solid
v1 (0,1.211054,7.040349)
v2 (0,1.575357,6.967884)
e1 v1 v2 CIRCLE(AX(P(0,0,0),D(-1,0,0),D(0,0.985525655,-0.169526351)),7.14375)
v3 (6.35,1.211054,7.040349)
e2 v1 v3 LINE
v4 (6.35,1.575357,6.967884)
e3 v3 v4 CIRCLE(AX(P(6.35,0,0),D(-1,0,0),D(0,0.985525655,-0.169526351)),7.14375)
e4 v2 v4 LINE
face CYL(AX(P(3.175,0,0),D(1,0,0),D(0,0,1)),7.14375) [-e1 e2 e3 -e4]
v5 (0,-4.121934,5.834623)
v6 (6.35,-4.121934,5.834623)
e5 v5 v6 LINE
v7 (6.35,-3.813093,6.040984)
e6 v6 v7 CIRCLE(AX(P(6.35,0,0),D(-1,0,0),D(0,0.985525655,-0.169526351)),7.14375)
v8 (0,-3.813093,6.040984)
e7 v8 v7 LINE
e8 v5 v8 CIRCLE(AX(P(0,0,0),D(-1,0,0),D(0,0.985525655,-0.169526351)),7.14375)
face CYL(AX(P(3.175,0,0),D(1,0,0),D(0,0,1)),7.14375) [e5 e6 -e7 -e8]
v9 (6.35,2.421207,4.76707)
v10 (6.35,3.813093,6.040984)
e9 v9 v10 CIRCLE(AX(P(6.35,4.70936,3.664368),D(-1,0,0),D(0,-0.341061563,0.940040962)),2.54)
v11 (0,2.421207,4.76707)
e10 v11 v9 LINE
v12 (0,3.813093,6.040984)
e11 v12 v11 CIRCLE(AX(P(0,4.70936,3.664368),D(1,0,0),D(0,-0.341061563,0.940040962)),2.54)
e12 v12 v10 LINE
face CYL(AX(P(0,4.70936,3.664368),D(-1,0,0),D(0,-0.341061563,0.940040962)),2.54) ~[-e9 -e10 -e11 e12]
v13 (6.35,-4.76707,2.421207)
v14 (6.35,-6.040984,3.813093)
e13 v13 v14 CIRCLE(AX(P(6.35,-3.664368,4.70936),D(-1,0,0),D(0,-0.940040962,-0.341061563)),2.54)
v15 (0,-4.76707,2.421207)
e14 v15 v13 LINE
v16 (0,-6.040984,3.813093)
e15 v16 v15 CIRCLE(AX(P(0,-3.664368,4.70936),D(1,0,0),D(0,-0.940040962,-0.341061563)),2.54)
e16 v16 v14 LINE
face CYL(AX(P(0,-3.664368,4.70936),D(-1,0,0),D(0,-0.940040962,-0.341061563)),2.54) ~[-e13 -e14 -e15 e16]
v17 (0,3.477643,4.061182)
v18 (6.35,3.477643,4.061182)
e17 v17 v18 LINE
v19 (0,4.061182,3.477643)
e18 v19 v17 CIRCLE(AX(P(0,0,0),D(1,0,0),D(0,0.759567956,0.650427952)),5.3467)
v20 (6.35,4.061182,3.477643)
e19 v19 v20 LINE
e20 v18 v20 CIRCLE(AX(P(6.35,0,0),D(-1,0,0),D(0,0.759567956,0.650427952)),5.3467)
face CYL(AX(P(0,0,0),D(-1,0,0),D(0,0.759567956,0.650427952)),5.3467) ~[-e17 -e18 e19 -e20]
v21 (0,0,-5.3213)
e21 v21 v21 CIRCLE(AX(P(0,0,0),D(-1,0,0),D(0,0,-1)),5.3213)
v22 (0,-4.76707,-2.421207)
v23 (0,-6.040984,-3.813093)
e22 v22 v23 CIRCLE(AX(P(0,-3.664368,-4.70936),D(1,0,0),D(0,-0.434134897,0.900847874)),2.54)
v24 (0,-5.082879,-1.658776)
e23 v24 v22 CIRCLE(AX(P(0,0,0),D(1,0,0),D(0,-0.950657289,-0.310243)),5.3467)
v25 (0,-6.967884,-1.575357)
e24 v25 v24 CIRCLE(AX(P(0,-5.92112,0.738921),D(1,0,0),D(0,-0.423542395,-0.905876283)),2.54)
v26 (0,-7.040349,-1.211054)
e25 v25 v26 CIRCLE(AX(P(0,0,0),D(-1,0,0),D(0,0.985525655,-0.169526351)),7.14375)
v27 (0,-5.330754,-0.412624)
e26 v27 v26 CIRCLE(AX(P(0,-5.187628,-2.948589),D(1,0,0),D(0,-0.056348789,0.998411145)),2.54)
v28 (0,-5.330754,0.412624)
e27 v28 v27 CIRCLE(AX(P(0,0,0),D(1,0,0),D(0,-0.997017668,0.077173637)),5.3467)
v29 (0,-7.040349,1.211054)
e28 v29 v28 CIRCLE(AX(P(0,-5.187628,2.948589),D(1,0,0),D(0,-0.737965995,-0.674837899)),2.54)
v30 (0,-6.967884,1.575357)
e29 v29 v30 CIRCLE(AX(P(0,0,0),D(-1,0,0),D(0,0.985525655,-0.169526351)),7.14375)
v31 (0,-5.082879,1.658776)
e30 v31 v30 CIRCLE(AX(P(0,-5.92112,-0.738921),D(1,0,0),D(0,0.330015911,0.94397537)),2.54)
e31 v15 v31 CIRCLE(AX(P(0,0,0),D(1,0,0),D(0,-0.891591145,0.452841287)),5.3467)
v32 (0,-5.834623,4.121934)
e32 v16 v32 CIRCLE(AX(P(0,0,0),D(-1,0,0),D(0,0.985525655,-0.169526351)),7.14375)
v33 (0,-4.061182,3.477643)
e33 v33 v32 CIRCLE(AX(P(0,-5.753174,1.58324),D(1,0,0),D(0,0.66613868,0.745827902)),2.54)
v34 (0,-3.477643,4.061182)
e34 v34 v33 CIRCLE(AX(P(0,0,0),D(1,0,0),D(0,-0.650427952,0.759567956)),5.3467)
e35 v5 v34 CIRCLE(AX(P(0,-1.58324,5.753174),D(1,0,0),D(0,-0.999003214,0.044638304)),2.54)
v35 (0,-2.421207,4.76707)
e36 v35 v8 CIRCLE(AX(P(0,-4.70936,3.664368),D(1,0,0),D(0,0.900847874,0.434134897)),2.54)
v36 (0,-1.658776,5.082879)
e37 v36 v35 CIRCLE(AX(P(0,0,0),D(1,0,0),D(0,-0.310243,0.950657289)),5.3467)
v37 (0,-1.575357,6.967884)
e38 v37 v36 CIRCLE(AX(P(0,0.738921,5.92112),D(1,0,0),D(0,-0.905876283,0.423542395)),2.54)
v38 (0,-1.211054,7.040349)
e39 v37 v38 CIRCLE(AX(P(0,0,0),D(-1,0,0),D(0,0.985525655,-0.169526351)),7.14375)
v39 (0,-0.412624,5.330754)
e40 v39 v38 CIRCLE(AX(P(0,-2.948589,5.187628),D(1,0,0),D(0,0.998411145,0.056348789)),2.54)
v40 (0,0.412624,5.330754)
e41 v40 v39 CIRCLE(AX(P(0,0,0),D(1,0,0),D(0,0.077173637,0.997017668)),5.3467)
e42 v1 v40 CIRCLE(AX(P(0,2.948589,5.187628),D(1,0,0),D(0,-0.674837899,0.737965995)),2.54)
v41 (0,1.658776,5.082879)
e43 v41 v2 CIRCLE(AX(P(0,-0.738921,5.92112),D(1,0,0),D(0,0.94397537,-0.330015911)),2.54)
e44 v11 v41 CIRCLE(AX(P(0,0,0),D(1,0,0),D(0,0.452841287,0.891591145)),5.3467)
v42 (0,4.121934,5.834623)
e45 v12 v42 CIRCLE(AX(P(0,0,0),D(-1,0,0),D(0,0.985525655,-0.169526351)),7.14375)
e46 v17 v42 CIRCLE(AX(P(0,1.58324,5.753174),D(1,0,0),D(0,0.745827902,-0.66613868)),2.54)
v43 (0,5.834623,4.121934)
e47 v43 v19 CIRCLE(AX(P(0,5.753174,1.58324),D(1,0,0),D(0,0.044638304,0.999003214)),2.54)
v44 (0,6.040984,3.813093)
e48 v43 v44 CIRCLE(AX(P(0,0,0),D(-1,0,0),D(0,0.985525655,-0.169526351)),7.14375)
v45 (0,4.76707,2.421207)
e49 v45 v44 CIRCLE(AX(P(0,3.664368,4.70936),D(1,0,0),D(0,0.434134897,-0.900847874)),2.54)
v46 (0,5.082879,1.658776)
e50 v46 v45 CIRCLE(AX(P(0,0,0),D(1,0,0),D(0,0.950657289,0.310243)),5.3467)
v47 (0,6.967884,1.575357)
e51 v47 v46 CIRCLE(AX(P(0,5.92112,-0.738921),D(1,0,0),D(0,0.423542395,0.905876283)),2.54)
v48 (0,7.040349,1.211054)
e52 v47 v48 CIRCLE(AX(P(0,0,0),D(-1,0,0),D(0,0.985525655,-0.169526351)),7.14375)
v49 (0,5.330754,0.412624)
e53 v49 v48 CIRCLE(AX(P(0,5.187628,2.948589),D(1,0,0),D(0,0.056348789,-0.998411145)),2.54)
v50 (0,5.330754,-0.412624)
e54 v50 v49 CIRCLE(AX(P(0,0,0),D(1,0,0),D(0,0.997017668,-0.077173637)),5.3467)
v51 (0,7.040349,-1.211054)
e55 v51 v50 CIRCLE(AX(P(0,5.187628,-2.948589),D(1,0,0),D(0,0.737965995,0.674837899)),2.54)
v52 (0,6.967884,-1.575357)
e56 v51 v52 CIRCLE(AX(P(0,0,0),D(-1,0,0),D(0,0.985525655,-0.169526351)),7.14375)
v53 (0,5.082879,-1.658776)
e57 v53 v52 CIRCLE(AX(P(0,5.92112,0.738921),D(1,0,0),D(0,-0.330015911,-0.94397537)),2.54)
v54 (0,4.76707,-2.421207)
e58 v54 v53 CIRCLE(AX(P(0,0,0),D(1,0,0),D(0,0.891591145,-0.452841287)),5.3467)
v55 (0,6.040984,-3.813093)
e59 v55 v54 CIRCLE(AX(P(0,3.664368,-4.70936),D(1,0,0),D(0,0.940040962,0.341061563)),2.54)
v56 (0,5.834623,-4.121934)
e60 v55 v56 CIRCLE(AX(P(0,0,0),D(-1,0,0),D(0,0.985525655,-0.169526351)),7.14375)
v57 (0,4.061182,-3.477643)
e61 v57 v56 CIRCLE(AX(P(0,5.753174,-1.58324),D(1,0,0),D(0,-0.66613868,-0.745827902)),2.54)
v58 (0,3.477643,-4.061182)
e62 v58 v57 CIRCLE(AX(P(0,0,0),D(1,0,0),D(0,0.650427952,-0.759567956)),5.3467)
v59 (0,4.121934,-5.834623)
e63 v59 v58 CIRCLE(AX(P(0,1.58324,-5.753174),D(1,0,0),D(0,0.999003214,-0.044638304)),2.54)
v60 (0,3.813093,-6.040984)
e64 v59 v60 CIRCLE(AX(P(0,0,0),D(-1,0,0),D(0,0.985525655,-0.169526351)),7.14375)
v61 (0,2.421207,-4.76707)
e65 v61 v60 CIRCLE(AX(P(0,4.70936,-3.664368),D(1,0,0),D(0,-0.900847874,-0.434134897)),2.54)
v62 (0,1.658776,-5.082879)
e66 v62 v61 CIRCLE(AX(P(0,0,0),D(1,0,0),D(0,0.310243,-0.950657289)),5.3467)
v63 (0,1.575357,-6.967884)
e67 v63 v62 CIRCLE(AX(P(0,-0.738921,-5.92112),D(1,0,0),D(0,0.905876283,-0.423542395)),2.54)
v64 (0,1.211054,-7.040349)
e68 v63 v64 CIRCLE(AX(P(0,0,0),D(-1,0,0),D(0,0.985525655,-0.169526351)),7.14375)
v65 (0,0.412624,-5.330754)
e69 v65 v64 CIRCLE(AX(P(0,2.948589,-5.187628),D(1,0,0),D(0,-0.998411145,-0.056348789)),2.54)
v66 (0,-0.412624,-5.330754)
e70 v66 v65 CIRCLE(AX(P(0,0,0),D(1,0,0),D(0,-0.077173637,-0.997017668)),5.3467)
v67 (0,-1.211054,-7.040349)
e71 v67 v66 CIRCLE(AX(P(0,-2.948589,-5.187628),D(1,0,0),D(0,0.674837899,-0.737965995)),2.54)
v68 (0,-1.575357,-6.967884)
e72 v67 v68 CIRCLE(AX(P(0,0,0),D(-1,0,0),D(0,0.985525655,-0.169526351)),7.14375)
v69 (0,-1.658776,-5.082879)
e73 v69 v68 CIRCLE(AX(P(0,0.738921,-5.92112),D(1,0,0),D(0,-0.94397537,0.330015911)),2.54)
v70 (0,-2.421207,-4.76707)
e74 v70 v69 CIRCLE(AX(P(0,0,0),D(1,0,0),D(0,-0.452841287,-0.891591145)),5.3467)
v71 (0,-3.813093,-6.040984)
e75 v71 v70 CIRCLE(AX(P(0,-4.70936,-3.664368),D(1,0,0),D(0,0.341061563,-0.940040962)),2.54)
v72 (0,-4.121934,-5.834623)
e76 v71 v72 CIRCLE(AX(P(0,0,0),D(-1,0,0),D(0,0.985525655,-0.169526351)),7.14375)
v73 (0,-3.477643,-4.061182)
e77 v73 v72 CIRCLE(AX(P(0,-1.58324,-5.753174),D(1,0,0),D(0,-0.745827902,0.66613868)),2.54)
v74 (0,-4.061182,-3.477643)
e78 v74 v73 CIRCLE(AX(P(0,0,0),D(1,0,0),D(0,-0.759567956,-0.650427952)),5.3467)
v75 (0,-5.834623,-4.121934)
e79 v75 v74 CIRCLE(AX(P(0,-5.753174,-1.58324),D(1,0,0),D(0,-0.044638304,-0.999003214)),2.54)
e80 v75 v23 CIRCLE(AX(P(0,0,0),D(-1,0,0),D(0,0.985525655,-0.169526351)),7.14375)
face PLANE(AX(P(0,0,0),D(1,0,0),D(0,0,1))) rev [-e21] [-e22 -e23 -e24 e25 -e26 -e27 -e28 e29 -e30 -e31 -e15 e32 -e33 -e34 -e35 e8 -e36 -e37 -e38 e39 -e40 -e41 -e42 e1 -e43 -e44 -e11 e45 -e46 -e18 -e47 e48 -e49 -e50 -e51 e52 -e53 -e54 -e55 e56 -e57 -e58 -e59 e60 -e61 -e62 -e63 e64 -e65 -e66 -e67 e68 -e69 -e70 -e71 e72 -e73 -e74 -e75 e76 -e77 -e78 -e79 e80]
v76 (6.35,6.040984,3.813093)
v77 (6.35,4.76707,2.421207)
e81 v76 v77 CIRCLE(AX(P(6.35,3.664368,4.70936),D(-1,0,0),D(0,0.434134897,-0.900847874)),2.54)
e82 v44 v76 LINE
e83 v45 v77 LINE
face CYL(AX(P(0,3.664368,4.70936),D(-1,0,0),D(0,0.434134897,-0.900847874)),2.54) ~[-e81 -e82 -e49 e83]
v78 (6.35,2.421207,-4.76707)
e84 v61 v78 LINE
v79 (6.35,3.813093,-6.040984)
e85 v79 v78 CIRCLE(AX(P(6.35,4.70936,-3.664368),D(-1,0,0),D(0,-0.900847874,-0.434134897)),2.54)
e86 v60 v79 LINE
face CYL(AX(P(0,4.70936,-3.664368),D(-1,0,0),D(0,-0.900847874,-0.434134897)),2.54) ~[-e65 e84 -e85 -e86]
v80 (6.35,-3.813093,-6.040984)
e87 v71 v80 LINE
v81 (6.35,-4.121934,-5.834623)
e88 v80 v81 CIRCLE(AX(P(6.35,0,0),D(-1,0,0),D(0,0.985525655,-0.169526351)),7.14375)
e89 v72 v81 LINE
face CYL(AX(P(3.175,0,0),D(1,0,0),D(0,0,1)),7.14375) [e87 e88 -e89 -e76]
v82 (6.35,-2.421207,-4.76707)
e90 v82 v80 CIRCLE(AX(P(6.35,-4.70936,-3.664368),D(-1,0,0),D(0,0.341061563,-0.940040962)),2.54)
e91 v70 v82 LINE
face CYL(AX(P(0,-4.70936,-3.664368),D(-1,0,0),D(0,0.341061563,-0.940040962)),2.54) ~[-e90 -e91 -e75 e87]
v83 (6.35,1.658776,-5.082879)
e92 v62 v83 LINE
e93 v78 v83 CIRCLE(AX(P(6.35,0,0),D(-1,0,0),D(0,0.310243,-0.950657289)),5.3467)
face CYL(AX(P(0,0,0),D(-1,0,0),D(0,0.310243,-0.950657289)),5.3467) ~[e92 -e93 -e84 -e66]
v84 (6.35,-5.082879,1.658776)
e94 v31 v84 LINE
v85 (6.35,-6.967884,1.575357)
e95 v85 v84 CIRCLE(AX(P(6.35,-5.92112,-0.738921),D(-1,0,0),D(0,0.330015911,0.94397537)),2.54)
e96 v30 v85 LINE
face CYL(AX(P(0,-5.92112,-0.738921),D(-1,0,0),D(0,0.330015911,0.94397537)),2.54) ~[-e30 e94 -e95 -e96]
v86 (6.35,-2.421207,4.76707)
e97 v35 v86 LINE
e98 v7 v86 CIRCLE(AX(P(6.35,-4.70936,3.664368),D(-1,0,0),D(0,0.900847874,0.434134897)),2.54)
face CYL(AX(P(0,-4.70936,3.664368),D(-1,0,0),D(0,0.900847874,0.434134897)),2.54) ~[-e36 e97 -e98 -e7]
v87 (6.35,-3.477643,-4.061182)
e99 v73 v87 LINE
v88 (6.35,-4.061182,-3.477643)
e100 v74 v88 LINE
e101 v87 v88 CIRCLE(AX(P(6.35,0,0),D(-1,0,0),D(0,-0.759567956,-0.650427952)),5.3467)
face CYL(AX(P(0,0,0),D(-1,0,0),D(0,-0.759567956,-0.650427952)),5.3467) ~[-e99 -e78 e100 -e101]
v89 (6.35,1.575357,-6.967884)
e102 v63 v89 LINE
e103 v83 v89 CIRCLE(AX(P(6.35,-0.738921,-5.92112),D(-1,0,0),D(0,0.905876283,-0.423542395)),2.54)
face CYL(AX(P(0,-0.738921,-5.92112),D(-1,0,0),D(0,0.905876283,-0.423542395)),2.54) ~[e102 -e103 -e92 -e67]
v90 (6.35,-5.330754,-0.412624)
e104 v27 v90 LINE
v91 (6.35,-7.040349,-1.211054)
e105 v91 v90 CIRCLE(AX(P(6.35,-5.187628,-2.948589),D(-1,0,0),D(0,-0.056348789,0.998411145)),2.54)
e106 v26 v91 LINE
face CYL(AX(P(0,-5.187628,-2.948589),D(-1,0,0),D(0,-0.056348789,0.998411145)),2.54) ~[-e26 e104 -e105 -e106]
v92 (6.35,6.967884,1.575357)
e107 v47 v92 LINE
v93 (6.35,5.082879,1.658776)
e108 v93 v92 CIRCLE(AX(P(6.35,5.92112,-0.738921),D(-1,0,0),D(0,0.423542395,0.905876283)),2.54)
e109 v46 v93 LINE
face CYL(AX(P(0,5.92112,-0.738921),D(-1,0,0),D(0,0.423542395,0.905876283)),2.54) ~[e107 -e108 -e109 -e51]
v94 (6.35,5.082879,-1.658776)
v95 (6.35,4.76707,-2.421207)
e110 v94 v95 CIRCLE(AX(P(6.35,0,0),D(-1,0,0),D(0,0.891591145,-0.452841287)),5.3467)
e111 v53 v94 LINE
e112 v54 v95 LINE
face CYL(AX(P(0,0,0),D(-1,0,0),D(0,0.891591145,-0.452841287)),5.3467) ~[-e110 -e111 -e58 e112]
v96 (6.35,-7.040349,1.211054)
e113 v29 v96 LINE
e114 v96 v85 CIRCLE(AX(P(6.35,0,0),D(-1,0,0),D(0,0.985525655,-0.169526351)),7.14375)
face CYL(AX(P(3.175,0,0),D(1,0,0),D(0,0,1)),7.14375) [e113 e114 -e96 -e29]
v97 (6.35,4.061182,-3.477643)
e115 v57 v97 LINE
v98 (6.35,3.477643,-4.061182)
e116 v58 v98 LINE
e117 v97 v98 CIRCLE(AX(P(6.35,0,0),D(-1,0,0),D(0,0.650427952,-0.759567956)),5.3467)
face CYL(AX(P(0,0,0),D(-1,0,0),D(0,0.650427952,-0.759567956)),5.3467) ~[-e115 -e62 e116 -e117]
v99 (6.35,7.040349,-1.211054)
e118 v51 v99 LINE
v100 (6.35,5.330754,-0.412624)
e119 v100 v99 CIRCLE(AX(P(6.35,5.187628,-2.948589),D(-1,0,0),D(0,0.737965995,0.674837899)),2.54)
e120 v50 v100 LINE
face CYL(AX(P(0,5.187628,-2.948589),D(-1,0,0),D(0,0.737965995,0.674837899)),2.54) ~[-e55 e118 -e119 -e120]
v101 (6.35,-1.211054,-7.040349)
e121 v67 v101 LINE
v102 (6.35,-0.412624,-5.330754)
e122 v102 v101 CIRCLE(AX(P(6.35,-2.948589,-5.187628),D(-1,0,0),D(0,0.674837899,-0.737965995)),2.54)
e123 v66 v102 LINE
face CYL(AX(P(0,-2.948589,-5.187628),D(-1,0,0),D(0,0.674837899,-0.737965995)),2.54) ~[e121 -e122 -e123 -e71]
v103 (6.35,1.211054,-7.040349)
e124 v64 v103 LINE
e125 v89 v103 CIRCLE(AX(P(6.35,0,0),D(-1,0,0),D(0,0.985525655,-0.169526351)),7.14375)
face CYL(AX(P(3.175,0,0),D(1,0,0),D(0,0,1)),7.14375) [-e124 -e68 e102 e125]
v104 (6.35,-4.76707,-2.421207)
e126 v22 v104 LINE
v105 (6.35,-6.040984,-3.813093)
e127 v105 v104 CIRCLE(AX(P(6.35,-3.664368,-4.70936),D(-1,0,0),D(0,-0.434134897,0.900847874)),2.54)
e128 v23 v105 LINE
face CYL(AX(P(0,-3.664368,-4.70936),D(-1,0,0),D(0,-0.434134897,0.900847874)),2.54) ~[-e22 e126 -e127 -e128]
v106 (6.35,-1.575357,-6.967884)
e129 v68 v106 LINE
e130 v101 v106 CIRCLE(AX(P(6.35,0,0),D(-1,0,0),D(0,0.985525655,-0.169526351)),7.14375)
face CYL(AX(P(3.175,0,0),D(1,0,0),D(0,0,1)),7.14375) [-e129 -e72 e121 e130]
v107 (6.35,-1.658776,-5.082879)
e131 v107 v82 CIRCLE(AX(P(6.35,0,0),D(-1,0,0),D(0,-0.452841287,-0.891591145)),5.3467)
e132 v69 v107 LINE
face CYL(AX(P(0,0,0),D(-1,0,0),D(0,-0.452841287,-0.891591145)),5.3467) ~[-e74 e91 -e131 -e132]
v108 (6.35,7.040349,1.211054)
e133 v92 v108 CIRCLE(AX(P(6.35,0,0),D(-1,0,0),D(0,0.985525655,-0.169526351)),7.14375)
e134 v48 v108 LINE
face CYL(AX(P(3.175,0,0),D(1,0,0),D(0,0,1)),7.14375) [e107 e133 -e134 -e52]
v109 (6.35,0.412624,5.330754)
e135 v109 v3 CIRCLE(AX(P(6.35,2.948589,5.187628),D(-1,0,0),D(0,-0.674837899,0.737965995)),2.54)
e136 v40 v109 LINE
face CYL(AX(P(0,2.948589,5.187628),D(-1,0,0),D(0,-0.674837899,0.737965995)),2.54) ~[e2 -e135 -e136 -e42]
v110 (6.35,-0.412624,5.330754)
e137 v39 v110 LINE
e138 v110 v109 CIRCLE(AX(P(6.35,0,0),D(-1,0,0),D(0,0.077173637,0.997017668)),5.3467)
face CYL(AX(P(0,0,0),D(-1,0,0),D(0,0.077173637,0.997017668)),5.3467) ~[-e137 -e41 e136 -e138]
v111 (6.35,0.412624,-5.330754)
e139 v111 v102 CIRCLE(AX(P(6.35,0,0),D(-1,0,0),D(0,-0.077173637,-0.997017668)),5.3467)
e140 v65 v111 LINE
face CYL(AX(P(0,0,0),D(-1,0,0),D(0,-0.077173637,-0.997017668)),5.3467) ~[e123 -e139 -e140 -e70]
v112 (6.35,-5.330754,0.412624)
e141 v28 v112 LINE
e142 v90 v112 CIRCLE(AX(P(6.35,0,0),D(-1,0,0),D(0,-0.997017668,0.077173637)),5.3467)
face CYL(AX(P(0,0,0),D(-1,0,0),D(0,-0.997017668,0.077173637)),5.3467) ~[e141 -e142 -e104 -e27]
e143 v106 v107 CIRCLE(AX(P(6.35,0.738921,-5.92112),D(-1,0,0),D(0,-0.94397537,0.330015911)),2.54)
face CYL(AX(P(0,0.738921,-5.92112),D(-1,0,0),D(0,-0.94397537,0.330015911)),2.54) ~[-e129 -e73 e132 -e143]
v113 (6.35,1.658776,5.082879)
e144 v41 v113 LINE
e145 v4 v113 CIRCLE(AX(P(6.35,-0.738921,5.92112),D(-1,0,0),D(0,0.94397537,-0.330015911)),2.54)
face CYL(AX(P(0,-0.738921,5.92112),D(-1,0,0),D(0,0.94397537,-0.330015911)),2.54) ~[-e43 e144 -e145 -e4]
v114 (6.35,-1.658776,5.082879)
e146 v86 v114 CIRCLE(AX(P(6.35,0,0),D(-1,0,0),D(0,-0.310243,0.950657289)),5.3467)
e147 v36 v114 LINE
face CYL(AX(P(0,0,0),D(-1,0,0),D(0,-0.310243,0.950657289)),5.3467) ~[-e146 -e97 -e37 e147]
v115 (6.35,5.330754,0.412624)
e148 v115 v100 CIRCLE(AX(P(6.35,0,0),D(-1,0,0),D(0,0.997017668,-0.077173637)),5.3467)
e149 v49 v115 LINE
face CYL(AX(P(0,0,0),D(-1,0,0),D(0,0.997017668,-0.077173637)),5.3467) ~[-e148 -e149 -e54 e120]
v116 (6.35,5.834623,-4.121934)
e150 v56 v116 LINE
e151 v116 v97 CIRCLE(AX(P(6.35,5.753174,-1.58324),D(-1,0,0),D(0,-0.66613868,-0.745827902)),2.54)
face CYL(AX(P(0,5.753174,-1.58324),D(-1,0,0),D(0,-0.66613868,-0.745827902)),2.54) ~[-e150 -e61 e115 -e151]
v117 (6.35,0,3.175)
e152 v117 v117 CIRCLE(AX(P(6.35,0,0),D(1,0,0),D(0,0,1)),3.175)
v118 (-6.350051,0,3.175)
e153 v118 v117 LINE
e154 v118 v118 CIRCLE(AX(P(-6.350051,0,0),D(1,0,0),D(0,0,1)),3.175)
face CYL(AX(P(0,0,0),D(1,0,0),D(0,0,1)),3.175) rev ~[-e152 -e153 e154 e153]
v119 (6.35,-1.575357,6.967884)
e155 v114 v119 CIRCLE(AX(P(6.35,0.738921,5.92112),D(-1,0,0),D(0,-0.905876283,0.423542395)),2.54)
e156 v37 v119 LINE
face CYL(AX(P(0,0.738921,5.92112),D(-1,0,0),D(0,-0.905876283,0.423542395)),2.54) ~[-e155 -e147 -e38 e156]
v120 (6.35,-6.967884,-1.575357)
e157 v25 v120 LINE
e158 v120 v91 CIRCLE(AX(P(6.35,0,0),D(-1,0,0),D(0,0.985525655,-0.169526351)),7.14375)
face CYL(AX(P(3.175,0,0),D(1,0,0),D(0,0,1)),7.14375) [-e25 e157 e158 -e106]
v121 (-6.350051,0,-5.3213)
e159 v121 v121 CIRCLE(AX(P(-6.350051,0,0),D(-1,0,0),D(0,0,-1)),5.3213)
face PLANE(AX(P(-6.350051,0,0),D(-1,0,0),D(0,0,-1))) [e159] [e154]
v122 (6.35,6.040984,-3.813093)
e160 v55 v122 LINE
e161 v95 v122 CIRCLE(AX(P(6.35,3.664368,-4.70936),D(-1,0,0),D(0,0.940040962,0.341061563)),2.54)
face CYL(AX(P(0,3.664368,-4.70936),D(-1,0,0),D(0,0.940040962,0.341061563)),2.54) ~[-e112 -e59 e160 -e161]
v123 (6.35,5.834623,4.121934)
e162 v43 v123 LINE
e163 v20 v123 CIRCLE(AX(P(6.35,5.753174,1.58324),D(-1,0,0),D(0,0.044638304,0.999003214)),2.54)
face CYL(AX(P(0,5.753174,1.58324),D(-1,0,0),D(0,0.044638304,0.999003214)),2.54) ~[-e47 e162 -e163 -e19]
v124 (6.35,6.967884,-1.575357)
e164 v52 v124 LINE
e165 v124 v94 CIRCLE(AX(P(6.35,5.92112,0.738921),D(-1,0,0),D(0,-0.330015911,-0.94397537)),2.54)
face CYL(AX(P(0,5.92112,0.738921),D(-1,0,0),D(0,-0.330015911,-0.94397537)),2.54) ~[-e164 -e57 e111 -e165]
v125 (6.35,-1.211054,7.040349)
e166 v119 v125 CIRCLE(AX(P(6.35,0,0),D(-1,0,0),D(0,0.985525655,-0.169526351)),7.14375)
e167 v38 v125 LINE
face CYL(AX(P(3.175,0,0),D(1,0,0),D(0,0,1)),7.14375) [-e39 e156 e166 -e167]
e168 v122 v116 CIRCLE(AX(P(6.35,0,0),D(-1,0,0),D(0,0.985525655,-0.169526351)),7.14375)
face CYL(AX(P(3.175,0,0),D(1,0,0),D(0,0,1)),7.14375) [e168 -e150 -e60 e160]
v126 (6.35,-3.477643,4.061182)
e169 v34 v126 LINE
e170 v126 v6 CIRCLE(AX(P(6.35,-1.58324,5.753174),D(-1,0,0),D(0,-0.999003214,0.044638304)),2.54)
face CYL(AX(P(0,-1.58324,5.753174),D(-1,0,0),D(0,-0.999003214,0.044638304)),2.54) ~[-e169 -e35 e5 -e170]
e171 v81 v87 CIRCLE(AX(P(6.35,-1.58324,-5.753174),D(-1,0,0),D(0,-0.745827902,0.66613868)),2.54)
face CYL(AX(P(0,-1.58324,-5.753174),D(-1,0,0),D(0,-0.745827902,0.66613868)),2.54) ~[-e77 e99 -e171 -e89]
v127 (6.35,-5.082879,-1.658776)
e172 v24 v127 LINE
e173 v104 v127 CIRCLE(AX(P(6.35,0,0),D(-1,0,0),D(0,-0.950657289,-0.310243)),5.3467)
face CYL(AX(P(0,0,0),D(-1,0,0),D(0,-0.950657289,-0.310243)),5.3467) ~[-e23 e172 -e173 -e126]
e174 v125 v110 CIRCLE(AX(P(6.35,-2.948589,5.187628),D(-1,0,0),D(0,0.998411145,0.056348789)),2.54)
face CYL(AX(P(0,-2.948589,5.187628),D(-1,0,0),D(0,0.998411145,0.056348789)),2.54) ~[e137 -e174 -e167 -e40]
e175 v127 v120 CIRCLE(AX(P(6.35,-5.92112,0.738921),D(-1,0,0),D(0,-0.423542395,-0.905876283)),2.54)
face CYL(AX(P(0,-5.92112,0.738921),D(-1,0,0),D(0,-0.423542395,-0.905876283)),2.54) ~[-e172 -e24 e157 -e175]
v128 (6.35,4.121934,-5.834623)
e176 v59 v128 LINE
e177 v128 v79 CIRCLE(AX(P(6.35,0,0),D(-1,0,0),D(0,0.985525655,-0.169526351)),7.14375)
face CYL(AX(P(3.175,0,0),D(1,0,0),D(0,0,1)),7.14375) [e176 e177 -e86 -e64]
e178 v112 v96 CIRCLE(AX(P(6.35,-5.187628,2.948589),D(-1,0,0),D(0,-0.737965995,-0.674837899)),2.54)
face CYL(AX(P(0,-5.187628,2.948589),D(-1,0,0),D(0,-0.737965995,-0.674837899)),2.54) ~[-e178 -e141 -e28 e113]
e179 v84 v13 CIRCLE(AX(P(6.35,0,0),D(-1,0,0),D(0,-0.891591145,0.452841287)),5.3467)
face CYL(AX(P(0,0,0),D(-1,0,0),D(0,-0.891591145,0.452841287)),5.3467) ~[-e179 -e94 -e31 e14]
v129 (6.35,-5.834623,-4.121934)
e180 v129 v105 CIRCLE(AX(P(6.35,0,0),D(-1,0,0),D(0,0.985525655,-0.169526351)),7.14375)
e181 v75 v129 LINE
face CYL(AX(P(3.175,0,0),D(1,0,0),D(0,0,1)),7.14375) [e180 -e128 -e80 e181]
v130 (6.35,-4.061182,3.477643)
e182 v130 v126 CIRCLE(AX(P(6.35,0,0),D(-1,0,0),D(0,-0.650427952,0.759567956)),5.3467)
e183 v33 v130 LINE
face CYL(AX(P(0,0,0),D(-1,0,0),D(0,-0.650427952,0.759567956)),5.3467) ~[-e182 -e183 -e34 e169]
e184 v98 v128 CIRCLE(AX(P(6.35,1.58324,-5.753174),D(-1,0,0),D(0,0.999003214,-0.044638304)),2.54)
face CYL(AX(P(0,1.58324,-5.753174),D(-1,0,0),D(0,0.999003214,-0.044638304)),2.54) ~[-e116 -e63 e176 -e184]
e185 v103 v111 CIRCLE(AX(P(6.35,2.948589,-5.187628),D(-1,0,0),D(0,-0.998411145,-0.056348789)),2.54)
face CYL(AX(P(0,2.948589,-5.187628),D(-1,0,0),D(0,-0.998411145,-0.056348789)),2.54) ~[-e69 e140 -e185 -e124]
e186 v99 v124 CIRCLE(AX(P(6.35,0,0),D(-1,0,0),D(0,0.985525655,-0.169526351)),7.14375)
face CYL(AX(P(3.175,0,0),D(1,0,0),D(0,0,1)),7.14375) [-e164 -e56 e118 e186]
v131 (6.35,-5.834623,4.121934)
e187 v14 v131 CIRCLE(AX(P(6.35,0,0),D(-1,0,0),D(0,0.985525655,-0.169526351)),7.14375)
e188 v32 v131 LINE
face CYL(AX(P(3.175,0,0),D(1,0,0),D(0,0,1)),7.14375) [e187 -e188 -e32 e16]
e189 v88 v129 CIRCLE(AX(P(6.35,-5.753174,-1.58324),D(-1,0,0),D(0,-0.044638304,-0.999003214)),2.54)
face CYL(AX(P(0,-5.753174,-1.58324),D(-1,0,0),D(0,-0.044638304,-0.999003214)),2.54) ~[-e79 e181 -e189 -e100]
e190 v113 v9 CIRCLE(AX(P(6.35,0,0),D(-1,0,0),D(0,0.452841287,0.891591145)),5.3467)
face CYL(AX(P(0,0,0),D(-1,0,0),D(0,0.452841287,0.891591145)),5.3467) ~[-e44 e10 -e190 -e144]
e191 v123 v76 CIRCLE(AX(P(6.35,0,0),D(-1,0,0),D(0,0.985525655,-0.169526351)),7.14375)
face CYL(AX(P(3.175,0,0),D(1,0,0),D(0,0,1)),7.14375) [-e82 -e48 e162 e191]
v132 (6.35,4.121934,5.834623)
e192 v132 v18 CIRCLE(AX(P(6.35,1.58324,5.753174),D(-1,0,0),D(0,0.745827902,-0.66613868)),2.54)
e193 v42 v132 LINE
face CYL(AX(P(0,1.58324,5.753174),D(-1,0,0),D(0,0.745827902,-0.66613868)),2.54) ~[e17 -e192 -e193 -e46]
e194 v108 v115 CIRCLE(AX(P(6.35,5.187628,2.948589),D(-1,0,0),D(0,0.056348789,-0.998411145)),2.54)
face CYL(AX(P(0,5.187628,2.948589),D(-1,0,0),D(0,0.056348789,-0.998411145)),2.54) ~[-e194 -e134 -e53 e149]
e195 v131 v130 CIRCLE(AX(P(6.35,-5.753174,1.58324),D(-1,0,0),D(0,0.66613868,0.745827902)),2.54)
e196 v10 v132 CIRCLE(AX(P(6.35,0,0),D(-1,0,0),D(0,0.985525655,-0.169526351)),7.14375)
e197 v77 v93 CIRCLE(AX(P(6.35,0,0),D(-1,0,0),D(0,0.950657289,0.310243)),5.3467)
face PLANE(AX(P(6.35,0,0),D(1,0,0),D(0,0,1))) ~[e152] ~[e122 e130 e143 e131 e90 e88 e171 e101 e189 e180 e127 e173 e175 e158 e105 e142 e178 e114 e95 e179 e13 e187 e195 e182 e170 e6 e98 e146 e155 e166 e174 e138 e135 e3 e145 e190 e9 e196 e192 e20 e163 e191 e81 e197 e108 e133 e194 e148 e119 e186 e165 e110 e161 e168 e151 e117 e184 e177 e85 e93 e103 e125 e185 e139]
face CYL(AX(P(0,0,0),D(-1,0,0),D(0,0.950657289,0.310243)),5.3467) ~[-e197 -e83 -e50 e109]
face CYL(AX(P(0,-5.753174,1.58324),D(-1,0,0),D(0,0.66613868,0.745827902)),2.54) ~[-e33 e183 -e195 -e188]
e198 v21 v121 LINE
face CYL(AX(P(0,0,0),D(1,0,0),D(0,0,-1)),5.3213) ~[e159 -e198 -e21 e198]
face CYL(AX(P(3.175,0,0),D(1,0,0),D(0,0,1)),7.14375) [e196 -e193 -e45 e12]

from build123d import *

# Parameters (mm, degrees)
BASPROSKE_W      = 6.35
BASPROSKE_H      = 7.14375
TOOTHCUT_DEPTH   = 12.932679
TEETHCUTS_COUNT  = 16
TEETHCUTS_ANGLE  = 337.5
HUBNEAONESKE_R   = 5.3213
HUBNEARONE_DEPTH = 6.3500508
BORSKE_R         = 3.175
BORE_DEPTH       = 6.3500508


with BuildPart() as part:
    # BasProSke → Base-Revolve (revolve)
    with BuildSketch(Plane(origin=(0, 0, 0), x_dir=(1, 0, 0), z_dir=(0, 1, 0)), mode=Mode.PRIVATE) as base_revolve_sk:
        with Locations((3.175, 3.571875)):
            Rectangle(BASPROSKE_W, BASPROSKE_H)
    revolve(base_revolve_sk.sketch.rotate(Axis((-10, 0, 0), (1, 0, 0)), 180), axis=Axis((-10, 0, 0), (1, 0, 0)))

    # TooCutSke → ToothCut (cut, through all)
    with BuildSketch(Plane(origin=(0, 0, 0), x_dir=(0, 0, -1), z_dir=(1, 0, 0))):
        with BuildLine():
            ThreePointArc((0.412624286, 5.330754364), (0, 5.3467), (-0.412624286, 5.330754364))
            ThreePointArc((-0.412624286, 5.330754364), (-0.654009481, 6.276897321), (-1.23450033, 7.062062068))
            ThreePointArc((-1.23450033, 7.062062068), (0, 7.16915), (1.23450033, 7.062062068))
            ThreePointArc((1.23450033, 7.062062068), (0.654009481, 6.276897321), (0.412624286, 5.330754364))
        make_face()
    toothcut = extrude(amount=TOOTHCUT_DEPTH, mode=Mode.SUBTRACT)

    # TeethCuts: ToothCut ×16 about axis
    teethcuts_axis = Axis((-10, 0, 0), (1, 0, 0))
    for i in range(1, TEETHCUTS_COUNT):
        add(toothcut.rotate(teethcuts_axis, i * TEETHCUTS_ANGLE / (TEETHCUTS_COUNT - 1)), mode=Mode.SUBTRACT)

    # HubNeaOneSke → HubNearOne (add)
    with BuildSketch(Plane.ZY):
        with Locations(Location((0, 0, 0), (0, 0, 180))):
            Circle(HUBNEAONESKE_R)
    extrude(amount=HUBNEARONE_DEPTH)

    # BorSke → Bore (cut, symmetric)
    with BuildSketch(Plane(origin=(0, 0, 0), x_dir=(0, 0, -1), z_dir=(1, 0, 0))):
        with Locations(Location((0, 0, 0), (0, 0, 180))):
            Circle(BORSKE_R)
    extrude(amount=BORE_DEPTH, both=True, mode=Mode.SUBTRACT)


solid = part.part
